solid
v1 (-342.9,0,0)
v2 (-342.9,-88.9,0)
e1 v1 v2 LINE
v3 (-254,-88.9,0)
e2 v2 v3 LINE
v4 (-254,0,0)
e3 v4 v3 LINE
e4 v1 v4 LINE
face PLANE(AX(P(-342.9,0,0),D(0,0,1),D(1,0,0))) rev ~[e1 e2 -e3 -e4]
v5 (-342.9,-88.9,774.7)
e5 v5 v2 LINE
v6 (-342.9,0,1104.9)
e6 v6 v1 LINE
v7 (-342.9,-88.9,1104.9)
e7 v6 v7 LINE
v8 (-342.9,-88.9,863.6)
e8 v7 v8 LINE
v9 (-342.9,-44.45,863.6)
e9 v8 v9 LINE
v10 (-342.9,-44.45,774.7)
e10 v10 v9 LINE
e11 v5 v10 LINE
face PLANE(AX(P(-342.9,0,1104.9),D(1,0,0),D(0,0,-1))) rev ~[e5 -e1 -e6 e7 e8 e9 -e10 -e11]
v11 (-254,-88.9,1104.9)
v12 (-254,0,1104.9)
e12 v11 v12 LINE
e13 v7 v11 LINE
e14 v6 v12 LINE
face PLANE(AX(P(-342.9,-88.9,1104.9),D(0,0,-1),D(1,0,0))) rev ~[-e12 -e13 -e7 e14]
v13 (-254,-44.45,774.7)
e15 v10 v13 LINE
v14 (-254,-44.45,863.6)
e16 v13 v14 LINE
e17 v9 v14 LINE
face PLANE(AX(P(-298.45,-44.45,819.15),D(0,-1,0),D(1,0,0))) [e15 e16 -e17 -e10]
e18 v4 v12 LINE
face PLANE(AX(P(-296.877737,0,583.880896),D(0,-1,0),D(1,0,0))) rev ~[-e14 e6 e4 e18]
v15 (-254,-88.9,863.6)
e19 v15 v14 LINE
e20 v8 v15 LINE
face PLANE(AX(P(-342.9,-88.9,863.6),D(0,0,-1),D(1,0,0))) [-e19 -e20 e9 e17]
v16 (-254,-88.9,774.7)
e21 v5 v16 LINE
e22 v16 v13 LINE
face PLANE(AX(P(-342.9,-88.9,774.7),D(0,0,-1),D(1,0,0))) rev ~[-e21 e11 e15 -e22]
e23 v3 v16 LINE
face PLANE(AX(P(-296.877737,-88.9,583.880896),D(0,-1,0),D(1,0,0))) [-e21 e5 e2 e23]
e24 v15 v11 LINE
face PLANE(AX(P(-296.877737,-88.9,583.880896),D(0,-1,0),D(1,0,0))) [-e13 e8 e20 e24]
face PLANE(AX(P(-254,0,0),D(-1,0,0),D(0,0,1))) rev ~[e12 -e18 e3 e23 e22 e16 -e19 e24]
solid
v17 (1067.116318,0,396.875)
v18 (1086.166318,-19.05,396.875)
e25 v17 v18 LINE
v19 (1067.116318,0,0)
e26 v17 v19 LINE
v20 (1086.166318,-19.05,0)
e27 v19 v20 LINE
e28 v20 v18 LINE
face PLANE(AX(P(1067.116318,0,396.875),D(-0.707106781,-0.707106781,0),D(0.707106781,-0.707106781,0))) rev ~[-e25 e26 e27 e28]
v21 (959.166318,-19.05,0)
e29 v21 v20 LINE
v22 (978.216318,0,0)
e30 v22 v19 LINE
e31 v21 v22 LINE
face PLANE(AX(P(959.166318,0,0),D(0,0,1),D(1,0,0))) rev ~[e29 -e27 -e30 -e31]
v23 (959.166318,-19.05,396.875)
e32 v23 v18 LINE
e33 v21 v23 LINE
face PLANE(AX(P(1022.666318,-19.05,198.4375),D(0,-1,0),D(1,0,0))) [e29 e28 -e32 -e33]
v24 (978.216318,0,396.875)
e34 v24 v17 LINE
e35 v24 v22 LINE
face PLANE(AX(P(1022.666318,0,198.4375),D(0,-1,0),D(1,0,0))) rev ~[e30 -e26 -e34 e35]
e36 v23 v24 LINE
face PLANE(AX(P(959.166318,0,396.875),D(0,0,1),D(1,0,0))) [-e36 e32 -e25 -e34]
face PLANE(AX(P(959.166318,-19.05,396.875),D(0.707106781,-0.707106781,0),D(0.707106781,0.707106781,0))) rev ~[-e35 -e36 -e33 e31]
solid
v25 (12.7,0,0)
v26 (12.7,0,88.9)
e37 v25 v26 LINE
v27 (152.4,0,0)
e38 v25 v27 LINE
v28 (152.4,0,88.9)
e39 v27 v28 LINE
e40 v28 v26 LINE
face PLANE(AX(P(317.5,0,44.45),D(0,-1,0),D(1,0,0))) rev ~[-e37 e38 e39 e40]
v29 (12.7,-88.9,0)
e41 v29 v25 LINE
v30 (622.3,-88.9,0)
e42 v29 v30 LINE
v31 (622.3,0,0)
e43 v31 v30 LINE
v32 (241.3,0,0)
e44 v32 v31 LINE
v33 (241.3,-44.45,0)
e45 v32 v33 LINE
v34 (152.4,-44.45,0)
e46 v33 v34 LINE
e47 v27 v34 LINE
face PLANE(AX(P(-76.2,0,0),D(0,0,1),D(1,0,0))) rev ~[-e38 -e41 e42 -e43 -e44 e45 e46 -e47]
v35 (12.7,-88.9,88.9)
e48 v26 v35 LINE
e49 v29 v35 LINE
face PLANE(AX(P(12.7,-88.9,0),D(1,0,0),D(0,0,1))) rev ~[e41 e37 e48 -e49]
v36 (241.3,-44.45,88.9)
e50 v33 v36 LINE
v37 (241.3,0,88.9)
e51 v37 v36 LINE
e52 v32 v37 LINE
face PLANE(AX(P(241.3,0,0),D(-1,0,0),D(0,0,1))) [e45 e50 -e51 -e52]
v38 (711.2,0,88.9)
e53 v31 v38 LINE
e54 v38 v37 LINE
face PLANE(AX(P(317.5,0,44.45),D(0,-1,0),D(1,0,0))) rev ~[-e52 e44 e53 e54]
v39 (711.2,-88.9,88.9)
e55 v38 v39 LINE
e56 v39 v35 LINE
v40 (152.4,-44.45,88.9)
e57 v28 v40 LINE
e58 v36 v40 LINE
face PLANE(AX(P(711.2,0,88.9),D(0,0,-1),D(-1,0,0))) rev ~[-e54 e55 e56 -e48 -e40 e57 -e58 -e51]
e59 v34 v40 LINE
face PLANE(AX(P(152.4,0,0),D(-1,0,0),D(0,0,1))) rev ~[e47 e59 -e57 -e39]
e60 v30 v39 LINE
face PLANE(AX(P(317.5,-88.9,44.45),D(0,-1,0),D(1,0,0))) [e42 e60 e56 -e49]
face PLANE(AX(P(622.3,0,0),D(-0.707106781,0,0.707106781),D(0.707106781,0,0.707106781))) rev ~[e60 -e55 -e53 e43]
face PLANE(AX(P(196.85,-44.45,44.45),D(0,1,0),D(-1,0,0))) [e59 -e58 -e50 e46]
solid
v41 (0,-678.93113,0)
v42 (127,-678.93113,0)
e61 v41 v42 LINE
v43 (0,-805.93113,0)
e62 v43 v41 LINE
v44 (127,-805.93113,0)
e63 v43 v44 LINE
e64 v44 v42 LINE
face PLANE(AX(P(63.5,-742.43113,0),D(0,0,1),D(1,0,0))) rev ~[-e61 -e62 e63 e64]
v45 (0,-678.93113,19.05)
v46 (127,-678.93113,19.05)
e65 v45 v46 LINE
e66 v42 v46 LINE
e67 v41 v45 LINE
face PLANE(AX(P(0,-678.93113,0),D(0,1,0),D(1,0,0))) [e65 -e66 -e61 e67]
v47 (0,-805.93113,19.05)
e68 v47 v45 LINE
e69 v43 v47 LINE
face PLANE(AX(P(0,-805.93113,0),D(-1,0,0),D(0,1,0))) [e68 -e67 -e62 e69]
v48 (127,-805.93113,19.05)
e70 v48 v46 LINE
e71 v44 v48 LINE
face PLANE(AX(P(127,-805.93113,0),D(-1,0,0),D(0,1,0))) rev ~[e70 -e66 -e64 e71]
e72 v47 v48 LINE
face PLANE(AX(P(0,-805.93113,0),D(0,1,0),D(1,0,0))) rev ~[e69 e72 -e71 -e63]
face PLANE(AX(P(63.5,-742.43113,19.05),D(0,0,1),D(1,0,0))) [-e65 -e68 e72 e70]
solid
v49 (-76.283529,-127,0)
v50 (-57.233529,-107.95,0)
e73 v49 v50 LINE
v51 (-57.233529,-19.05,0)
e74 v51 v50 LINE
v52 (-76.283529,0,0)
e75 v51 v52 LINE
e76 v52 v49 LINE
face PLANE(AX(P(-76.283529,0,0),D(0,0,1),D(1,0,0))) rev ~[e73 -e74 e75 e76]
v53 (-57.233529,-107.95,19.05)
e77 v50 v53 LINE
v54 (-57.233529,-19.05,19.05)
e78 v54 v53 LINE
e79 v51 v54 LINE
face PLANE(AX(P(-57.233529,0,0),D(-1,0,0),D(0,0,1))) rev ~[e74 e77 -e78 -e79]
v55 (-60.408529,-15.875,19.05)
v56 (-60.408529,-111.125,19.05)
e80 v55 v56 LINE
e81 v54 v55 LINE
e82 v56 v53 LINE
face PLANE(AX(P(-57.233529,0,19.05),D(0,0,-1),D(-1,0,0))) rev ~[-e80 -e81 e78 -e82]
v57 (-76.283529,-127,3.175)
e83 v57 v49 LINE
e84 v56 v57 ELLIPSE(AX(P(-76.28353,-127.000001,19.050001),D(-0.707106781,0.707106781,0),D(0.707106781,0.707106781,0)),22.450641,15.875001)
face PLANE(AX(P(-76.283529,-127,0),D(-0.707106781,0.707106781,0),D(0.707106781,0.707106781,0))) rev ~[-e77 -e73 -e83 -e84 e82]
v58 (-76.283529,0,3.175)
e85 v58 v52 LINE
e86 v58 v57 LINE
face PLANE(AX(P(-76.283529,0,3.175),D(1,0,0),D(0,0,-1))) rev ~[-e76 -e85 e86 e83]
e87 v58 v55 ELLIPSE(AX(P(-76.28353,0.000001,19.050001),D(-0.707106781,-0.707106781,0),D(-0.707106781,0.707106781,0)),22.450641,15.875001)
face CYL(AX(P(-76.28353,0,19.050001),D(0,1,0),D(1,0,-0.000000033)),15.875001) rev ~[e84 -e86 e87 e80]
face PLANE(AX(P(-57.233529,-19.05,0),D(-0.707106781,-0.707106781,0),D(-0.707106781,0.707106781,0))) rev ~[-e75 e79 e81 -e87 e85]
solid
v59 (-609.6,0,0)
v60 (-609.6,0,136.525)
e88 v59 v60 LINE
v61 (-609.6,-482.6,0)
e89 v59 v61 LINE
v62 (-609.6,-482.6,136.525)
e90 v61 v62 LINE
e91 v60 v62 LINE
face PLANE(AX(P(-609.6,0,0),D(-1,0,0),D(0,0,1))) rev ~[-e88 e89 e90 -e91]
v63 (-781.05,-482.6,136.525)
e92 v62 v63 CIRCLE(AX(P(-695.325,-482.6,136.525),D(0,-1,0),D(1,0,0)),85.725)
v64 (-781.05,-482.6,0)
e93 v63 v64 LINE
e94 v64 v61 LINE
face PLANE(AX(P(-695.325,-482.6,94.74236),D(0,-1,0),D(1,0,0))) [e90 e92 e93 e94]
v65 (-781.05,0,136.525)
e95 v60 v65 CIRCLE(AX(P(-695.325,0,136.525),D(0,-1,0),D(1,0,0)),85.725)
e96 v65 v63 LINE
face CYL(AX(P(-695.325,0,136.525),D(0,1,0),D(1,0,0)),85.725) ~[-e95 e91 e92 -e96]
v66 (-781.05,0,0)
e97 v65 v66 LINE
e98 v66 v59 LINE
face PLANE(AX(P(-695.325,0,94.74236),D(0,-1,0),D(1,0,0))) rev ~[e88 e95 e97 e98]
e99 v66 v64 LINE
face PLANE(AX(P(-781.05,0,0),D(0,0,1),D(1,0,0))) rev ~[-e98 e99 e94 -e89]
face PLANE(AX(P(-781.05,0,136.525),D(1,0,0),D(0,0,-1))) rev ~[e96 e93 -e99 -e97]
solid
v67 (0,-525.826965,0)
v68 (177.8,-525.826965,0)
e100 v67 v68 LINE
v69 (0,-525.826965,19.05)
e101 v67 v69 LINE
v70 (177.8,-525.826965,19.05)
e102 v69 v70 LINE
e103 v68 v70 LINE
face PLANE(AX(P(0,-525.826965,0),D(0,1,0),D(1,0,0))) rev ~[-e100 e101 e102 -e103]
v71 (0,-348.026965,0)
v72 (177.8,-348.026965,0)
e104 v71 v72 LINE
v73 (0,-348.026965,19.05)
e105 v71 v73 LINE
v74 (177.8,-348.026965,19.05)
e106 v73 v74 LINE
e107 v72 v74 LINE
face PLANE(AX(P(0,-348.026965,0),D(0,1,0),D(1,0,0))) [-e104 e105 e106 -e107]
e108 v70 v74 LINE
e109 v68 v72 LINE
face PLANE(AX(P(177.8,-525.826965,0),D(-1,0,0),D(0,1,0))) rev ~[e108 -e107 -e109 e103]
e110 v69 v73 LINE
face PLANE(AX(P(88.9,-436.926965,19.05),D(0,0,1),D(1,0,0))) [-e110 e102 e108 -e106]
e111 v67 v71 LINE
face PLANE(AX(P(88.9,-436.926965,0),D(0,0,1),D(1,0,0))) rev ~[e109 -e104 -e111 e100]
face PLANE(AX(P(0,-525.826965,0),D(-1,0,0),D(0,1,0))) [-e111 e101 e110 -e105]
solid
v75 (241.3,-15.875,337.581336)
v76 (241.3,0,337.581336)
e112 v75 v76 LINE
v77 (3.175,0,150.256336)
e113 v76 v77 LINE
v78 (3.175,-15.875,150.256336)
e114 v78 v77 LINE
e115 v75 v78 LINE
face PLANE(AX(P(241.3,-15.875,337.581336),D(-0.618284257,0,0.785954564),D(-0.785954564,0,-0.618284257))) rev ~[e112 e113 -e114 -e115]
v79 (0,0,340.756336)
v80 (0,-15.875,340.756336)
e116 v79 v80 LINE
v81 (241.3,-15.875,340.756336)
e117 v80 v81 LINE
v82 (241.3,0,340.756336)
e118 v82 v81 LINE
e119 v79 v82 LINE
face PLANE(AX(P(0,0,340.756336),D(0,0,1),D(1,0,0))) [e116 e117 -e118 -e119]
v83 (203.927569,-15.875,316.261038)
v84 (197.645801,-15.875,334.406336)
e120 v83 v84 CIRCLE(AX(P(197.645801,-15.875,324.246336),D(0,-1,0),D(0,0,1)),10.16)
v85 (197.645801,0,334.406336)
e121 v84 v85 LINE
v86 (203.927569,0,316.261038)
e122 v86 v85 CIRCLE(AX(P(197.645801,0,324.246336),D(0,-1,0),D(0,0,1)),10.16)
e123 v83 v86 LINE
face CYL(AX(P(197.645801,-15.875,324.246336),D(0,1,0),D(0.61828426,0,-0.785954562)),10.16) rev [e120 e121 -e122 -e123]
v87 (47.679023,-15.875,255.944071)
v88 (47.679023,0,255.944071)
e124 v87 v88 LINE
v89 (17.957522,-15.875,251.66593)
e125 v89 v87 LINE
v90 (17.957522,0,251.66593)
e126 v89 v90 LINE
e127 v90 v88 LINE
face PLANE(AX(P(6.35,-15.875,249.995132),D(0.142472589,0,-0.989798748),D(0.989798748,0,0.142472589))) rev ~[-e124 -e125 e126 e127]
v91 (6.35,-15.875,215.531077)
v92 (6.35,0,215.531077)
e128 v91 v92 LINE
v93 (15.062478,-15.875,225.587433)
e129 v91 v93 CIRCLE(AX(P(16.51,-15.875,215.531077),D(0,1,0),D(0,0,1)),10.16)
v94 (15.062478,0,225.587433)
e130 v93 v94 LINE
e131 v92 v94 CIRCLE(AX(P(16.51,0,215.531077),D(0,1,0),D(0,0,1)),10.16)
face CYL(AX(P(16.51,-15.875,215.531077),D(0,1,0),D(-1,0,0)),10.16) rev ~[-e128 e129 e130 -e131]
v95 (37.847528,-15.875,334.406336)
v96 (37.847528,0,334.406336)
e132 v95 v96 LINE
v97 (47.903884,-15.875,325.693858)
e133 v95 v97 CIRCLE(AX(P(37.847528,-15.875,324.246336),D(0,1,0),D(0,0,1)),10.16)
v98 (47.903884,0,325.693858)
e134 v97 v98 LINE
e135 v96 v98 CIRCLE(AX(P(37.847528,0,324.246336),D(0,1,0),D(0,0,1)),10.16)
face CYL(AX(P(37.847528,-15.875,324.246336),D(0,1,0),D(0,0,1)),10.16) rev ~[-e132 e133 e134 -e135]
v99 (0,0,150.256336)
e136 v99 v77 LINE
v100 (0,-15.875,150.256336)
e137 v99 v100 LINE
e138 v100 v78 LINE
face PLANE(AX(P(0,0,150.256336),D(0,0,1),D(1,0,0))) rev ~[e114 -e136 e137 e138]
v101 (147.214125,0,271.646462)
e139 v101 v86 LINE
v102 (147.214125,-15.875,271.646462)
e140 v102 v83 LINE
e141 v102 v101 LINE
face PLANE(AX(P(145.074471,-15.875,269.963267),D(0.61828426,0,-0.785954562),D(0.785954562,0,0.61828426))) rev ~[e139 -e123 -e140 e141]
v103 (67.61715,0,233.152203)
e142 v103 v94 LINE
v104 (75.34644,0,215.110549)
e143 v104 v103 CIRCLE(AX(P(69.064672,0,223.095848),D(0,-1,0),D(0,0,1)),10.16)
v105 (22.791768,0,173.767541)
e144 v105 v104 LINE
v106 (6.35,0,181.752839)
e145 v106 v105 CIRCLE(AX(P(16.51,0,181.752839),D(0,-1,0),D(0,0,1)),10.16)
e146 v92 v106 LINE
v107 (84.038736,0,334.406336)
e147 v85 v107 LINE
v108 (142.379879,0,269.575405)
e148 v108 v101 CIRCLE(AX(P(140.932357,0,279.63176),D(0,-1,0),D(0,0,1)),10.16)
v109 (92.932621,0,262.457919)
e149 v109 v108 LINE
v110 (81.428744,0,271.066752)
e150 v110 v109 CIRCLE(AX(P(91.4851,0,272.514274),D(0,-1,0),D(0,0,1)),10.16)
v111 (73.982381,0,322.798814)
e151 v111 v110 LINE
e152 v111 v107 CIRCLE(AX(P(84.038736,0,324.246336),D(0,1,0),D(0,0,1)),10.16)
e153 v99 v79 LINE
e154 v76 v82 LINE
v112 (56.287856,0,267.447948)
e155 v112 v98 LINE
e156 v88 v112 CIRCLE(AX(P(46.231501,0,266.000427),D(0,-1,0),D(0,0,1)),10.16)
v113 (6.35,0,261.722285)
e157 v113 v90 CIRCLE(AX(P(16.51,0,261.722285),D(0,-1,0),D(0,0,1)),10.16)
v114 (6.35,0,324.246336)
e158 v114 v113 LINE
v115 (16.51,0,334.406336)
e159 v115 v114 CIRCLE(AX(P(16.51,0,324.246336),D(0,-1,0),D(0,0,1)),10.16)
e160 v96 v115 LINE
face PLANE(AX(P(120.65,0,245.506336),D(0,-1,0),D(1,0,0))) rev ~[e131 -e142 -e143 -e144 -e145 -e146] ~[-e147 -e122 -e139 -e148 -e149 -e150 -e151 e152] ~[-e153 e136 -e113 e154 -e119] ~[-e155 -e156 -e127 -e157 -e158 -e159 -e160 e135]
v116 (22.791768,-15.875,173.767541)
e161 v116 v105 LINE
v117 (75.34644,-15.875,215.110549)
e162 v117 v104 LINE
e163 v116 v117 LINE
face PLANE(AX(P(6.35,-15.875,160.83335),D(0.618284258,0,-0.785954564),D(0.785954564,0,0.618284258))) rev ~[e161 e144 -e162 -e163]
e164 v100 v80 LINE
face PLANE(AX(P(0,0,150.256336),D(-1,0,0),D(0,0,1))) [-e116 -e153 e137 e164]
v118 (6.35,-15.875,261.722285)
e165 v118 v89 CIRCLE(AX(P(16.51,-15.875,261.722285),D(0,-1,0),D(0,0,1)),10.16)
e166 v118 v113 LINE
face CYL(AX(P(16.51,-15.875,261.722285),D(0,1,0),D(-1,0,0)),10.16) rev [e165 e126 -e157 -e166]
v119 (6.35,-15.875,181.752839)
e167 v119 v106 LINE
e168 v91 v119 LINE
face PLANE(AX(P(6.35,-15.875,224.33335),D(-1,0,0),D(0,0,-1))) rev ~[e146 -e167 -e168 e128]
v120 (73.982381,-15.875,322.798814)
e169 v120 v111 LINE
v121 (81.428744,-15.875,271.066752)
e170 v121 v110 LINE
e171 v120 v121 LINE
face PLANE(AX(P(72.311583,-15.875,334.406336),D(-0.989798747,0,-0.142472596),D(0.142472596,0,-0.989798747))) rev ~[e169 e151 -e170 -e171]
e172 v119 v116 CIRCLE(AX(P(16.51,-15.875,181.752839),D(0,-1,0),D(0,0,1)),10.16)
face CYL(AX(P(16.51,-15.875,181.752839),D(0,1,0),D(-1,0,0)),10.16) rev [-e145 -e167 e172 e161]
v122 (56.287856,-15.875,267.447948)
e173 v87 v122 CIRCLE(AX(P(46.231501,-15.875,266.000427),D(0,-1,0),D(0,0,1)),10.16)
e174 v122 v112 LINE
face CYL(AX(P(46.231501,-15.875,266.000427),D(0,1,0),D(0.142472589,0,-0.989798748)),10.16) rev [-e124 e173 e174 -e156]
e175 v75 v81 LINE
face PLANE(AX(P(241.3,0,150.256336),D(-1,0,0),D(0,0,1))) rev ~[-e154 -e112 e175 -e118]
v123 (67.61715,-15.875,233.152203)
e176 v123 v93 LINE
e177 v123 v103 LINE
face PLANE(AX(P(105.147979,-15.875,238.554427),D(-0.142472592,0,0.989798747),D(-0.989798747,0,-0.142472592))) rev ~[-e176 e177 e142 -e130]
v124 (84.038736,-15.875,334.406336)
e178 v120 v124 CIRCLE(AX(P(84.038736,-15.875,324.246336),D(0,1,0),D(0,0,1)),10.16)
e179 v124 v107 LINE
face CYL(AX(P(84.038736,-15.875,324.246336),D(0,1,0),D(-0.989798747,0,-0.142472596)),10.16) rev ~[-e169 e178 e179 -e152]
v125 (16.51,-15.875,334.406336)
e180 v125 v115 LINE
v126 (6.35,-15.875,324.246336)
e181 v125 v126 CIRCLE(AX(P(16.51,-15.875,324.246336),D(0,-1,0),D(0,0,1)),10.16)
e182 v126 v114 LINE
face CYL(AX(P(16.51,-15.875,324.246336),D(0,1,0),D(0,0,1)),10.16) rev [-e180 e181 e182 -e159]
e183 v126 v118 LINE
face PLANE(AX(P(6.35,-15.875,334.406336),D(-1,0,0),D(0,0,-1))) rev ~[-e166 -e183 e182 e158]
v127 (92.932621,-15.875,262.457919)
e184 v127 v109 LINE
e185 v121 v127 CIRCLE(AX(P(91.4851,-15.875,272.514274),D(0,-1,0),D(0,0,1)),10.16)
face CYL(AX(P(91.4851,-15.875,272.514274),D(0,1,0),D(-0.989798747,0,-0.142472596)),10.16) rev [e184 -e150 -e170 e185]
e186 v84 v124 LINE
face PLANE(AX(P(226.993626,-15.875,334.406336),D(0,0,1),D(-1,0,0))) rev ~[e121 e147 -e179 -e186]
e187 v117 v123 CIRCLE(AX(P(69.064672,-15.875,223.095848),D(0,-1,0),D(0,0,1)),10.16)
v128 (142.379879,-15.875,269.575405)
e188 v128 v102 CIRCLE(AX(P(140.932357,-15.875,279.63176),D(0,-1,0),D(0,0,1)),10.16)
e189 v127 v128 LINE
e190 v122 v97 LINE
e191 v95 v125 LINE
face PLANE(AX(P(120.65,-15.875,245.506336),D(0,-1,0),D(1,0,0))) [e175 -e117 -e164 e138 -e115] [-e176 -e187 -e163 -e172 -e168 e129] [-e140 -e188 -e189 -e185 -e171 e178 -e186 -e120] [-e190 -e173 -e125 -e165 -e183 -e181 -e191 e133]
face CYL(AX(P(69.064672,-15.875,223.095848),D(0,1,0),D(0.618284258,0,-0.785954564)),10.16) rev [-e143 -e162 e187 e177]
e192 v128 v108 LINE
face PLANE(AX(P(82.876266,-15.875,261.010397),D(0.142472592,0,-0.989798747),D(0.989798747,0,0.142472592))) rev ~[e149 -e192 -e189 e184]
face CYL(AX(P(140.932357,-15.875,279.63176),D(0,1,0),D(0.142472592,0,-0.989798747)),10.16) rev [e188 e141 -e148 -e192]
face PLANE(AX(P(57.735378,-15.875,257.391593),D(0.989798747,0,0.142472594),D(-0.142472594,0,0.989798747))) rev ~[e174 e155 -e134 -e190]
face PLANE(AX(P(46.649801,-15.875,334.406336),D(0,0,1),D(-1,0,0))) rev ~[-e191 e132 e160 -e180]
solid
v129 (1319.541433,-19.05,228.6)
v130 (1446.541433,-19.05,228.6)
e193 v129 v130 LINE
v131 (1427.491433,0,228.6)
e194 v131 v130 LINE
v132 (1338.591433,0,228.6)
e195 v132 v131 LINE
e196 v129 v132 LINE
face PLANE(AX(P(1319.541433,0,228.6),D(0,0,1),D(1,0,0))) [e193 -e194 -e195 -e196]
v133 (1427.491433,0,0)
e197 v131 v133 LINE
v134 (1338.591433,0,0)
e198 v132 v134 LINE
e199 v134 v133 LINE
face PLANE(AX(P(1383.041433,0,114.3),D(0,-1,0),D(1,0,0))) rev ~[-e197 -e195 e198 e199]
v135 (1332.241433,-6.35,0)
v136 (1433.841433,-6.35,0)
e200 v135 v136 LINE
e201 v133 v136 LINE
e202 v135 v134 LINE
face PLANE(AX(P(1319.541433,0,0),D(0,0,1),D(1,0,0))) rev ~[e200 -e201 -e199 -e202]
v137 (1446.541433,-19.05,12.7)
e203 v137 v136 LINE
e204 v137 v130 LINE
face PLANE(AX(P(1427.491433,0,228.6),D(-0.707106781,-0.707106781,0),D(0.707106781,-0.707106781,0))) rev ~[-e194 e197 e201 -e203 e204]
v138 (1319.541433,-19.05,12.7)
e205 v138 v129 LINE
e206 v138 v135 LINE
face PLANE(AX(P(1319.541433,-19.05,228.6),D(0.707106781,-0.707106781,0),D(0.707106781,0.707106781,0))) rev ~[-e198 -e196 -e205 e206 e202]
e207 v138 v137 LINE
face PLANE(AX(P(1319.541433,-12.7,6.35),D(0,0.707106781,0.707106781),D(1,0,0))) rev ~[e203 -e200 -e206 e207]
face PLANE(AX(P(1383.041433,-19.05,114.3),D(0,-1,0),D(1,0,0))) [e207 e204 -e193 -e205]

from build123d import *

# Parameters (mm, degrees)
F1_DEPTH  = 482.6
F3_DEPTH  = 88.9
F4_W      = 88.9
F4_H      = 88.9
F5_DEPTH  = 44.45
F7_DEPTH  = 88.9
F8_W      = 88.9
F8_H      = 88.9
F9_DEPTH  = 44.45
F11_DEPTH = 88.9
F12_W     = 88.9
F12_H     = 95.25
F13_DEPTH = 88.9
F15_DEPTH = 88.9
F17_W     = 127
F17_H     = 396.875
F18_DEPTH = 19.05
F20_DEPTH = 396.876
F21_W     = 127
F21_H     = 228.6
F22_DEPTH = 19.05
F24_DEPTH = 228.601
F26_DEPTH = 127
F28_DEPTH = 1104.901
F29_W     = 177.8
F29_H     = 177.8
F30_DEPTH = 19.05
F31_W     = 127
F31_H     = 127
F32_DEPTH = 19.05
F33_W     = 241.3
F33_H     = 190.5
F34_DEPTH = 15.875
F36_DEPTH = 15.876
F38_DEPTH = 15.876
F39_R     = 10.16
F40_SIZE  = 12.7


with BuildPart() as f1:
    # F0 (on Front) → F1 (new body)
    with BuildSketch(Plane.XZ):
        with BuildLine():
            Line((-781.05, 136.525), (-781.05, 0))
            Line((-781.05, 0), (-609.6, 0))
            Line((-609.6, 0), (-609.6, 136.525))
            ThreePointArc((-609.6, 136.525), (-695.325, 222.25), (-781.05, 136.525))
        make_face()
    extrude(amount=F1_DEPTH)


with BuildPart() as f3:
    # F2 (on Front) → F3 (new body)
    with BuildSketch(Plane.XZ):
        Polygon((-342.9, 1104.9), (-342.9, 0), (-254, 0), (-254, 1193.8), align=None)
    extrude(amount=F3_DEPTH)

    # F4 (on face) → F5 (cut)
    with BuildSketch(Plane.XZ.offset(88.9)):
        with Locations((-298.45, 819.15)):
            Rectangle(F4_W, F4_H)
    extrude(amount=-F5_DEPTH, mode=Mode.SUBTRACT)

    # F12 (on face) → F13 (cut)
    with BuildSketch(Plane.XZ.offset(88.9)):
        with Locations((-298.45, 1152.525)):
            Rectangle(F12_W, F12_H)
    extrude(amount=-F13_DEPTH, mode=Mode.SUBTRACT)


with BuildPart() as f7:
    # F6 (on Front) → F7 (new body)
    with BuildSketch(Plane.XZ):
        Polygon((12.7, 88.9), (-76.2, 0), (622.3, 0), (711.2, 88.9), align=None)
    extrude(amount=F7_DEPTH)

    # F8 (on face) → F9 (cut)
    with BuildSketch(Plane(origin=(0, 0, 0), x_dir=(-1, 0, 0), z_dir=(0, 1, 0))):
        with Locations((-196.85, 44.45)):
            Rectangle(F8_W, F8_H)
    extrude(amount=-F9_DEPTH, mode=Mode.SUBTRACT)

    # F14 (on face) → F15 (cut)
    with BuildSketch(Plane.XZ.offset(88.9)):
        Polygon((-76.2, 0), (12.7, 88.9), (-82.55, 88.9), (-82.55, 0), align=None)
        Polygon((12.7, 0), (12.7, 88.9), (-76.2, 0), align=None)
    extrude(amount=-F15_DEPTH, mode=Mode.SUBTRACT)


with BuildPart() as f11:
    # F10 (on Front) → F11 (new body)
    with BuildSketch(Plane.XZ):
        Polygon((977.993183, 88.9), (889.093183, 0), (1231.993183, 0), (1143.093183, 88.9), align=None)
    extrude(amount=F11_DEPTH)


with BuildPart() as f18:
    # F17 (on Front) → F18 (new body)
    with BuildSketch(Plane.XZ):
        with Locations((1022.666318, 198.4375)):
            Rectangle(F17_W, F17_H)
    extrude(amount=F18_DEPTH)

    # F19 (on face) → F20 (cut, through all)
    with BuildSketch(Plane.XY.offset(396.875)):
        Polygon((959.166318, 0), (959.166318, -19.05), (978.216318, 0), align=None)
        Polygon((1067.116318, 0), (1086.166318, -19.05), (1086.166318, 0), align=None)
    extrude(amount=-F20_DEPTH, mode=Mode.SUBTRACT)


with BuildPart() as f22:
    # F21 (on Front) → F22 (new body)
    with BuildSketch(Plane.XZ):
        with Locations((1383.041433, 114.3)):
            Rectangle(F21_W, F21_H)
    extrude(amount=F22_DEPTH)

    # F23 (on face) → F24 (cut, through all)
    with BuildSketch(Plane.XY.offset(228.6)):
        Polygon((1427.491433, 0), (1446.541433, -19.05), (1446.541433, 0), align=None)
        Polygon((1319.541433, 0), (1319.541433, -19.05), (1338.591433, 0), align=None)
    extrude(amount=-F24_DEPTH, mode=Mode.SUBTRACT)

    # F40
    f40_edges = [f22.edges().sort_by_distance(p)[0] for p in [
        (1383.041433, -19.05, 0),
    ]]
    chamfer(f40_edges, length=F40_SIZE)


with BuildPart() as f26:
    # F25 (on Front) → F26 (new body)
    with BuildSketch(Plane.XZ):
        with BuildLine():
            Line((-76.283529, 0), (-57.233529, 0))
            Line((-57.233529, 0), (-57.233529, 19.05))
            Line((-57.233529, 19.05), (-60.408529, 19.05))
            ThreePointArc((-60.408529, 19.05), (-65.058209, 7.82468), (-76.283529, 3.175))
            Line((-76.283529, 3.175), (-76.283529, 0))
        make_face()
    extrude(amount=F26_DEPTH)

    # F27 (on face) → F28 (cut, through all)
    with BuildSketch(Plane(origin=(0, 0, 0), x_dir=(1, 0, 0), z_dir=(0, 0, -1))):
        Polygon((-57.233529, 19.05), (-76.283529, 0), (-57.233529, 0), align=None)
        Polygon((-57.233529, 127), (-76.283529, 127), (-57.233529, 107.95), align=None)
    extrude(amount=-F28_DEPTH, mode=Mode.SUBTRACT)


with BuildPart() as f30:
    # F29 (on Top) → F30 (new body)
    with BuildSketch(Plane.XY):
        with Locations((88.9, -436.926965)):
            Rectangle(F29_W, F29_H)
    extrude(amount=F30_DEPTH)


with BuildPart() as f32:
    # F31 (on Top) → F32 (new body)
    with BuildSketch(Plane.XY):
        with Locations((63.5, -742.43113)):
            Rectangle(F31_W, F31_H)
    extrude(amount=F32_DEPTH)


with BuildPart() as f34:
    # F33 (on Front) → F34 (new body)
    with BuildSketch(Plane.XZ):
        with Locations((120.65, 245.506336)):
            Rectangle(F33_W, F33_H)
    extrude(amount=F34_DEPTH)

    # F35 (on face) → F36 (cut, through all)
    with BuildSketch(Plane.XZ.offset(15.875)):
        Polygon((241.3, 337.581336), (3.175, 150.256336), (241.3, 150.256336), align=None)
    extrude(amount=-F36_DEPTH, mode=Mode.SUBTRACT)

    # F37 (on face) → F38 (cut, through all)
    with BuildSketch(Plane.XZ.offset(15.875)):
        Polygon((6.35, 224.33335), (6.35, 160.83335), (105.147979, 238.554427), align=None)
        Polygon((46.649801, 334.406336), (6.35, 334.406336), (6.35, 249.995132), (57.735378, 257.391593), align=None)
        Polygon((72.311583, 334.406336), (82.876266, 261.010397), (145.074471, 269.963267), (226.993626, 334.406336), align=None)
    extrude(amount=-F38_DEPTH, mode=Mode.SUBTRACT)

    # F39
    f39_edges = [f34.edges().sort_by_distance(p)[0] for p in [
        (145.074471, -7.9375, 269.963267),
        (82.876266, -7.9375, 261.010397),
        (72.311583, -7.9375, 334.406336),
        (226.993626, -7.9375, 334.406336),
        (46.649801, -7.9375, 334.406336),
        (6.35, -7.9375, 334.406336),
        (6.35, -7.9375, 249.995132),
        (57.735378, -7.9375, 257.391593),
        (105.147979, -7.9375, 238.554427),
        (6.35, -7.9375, 224.33335),
        (6.35, -7.9375, 160.83335),
    ]]
    fillet(f39_edges, radius=F39_R)


solid = Compound([f1.part, f3.part, f7.part, f18.part, f22.part, f26.part, f30.part, f32.part, f34.part])
